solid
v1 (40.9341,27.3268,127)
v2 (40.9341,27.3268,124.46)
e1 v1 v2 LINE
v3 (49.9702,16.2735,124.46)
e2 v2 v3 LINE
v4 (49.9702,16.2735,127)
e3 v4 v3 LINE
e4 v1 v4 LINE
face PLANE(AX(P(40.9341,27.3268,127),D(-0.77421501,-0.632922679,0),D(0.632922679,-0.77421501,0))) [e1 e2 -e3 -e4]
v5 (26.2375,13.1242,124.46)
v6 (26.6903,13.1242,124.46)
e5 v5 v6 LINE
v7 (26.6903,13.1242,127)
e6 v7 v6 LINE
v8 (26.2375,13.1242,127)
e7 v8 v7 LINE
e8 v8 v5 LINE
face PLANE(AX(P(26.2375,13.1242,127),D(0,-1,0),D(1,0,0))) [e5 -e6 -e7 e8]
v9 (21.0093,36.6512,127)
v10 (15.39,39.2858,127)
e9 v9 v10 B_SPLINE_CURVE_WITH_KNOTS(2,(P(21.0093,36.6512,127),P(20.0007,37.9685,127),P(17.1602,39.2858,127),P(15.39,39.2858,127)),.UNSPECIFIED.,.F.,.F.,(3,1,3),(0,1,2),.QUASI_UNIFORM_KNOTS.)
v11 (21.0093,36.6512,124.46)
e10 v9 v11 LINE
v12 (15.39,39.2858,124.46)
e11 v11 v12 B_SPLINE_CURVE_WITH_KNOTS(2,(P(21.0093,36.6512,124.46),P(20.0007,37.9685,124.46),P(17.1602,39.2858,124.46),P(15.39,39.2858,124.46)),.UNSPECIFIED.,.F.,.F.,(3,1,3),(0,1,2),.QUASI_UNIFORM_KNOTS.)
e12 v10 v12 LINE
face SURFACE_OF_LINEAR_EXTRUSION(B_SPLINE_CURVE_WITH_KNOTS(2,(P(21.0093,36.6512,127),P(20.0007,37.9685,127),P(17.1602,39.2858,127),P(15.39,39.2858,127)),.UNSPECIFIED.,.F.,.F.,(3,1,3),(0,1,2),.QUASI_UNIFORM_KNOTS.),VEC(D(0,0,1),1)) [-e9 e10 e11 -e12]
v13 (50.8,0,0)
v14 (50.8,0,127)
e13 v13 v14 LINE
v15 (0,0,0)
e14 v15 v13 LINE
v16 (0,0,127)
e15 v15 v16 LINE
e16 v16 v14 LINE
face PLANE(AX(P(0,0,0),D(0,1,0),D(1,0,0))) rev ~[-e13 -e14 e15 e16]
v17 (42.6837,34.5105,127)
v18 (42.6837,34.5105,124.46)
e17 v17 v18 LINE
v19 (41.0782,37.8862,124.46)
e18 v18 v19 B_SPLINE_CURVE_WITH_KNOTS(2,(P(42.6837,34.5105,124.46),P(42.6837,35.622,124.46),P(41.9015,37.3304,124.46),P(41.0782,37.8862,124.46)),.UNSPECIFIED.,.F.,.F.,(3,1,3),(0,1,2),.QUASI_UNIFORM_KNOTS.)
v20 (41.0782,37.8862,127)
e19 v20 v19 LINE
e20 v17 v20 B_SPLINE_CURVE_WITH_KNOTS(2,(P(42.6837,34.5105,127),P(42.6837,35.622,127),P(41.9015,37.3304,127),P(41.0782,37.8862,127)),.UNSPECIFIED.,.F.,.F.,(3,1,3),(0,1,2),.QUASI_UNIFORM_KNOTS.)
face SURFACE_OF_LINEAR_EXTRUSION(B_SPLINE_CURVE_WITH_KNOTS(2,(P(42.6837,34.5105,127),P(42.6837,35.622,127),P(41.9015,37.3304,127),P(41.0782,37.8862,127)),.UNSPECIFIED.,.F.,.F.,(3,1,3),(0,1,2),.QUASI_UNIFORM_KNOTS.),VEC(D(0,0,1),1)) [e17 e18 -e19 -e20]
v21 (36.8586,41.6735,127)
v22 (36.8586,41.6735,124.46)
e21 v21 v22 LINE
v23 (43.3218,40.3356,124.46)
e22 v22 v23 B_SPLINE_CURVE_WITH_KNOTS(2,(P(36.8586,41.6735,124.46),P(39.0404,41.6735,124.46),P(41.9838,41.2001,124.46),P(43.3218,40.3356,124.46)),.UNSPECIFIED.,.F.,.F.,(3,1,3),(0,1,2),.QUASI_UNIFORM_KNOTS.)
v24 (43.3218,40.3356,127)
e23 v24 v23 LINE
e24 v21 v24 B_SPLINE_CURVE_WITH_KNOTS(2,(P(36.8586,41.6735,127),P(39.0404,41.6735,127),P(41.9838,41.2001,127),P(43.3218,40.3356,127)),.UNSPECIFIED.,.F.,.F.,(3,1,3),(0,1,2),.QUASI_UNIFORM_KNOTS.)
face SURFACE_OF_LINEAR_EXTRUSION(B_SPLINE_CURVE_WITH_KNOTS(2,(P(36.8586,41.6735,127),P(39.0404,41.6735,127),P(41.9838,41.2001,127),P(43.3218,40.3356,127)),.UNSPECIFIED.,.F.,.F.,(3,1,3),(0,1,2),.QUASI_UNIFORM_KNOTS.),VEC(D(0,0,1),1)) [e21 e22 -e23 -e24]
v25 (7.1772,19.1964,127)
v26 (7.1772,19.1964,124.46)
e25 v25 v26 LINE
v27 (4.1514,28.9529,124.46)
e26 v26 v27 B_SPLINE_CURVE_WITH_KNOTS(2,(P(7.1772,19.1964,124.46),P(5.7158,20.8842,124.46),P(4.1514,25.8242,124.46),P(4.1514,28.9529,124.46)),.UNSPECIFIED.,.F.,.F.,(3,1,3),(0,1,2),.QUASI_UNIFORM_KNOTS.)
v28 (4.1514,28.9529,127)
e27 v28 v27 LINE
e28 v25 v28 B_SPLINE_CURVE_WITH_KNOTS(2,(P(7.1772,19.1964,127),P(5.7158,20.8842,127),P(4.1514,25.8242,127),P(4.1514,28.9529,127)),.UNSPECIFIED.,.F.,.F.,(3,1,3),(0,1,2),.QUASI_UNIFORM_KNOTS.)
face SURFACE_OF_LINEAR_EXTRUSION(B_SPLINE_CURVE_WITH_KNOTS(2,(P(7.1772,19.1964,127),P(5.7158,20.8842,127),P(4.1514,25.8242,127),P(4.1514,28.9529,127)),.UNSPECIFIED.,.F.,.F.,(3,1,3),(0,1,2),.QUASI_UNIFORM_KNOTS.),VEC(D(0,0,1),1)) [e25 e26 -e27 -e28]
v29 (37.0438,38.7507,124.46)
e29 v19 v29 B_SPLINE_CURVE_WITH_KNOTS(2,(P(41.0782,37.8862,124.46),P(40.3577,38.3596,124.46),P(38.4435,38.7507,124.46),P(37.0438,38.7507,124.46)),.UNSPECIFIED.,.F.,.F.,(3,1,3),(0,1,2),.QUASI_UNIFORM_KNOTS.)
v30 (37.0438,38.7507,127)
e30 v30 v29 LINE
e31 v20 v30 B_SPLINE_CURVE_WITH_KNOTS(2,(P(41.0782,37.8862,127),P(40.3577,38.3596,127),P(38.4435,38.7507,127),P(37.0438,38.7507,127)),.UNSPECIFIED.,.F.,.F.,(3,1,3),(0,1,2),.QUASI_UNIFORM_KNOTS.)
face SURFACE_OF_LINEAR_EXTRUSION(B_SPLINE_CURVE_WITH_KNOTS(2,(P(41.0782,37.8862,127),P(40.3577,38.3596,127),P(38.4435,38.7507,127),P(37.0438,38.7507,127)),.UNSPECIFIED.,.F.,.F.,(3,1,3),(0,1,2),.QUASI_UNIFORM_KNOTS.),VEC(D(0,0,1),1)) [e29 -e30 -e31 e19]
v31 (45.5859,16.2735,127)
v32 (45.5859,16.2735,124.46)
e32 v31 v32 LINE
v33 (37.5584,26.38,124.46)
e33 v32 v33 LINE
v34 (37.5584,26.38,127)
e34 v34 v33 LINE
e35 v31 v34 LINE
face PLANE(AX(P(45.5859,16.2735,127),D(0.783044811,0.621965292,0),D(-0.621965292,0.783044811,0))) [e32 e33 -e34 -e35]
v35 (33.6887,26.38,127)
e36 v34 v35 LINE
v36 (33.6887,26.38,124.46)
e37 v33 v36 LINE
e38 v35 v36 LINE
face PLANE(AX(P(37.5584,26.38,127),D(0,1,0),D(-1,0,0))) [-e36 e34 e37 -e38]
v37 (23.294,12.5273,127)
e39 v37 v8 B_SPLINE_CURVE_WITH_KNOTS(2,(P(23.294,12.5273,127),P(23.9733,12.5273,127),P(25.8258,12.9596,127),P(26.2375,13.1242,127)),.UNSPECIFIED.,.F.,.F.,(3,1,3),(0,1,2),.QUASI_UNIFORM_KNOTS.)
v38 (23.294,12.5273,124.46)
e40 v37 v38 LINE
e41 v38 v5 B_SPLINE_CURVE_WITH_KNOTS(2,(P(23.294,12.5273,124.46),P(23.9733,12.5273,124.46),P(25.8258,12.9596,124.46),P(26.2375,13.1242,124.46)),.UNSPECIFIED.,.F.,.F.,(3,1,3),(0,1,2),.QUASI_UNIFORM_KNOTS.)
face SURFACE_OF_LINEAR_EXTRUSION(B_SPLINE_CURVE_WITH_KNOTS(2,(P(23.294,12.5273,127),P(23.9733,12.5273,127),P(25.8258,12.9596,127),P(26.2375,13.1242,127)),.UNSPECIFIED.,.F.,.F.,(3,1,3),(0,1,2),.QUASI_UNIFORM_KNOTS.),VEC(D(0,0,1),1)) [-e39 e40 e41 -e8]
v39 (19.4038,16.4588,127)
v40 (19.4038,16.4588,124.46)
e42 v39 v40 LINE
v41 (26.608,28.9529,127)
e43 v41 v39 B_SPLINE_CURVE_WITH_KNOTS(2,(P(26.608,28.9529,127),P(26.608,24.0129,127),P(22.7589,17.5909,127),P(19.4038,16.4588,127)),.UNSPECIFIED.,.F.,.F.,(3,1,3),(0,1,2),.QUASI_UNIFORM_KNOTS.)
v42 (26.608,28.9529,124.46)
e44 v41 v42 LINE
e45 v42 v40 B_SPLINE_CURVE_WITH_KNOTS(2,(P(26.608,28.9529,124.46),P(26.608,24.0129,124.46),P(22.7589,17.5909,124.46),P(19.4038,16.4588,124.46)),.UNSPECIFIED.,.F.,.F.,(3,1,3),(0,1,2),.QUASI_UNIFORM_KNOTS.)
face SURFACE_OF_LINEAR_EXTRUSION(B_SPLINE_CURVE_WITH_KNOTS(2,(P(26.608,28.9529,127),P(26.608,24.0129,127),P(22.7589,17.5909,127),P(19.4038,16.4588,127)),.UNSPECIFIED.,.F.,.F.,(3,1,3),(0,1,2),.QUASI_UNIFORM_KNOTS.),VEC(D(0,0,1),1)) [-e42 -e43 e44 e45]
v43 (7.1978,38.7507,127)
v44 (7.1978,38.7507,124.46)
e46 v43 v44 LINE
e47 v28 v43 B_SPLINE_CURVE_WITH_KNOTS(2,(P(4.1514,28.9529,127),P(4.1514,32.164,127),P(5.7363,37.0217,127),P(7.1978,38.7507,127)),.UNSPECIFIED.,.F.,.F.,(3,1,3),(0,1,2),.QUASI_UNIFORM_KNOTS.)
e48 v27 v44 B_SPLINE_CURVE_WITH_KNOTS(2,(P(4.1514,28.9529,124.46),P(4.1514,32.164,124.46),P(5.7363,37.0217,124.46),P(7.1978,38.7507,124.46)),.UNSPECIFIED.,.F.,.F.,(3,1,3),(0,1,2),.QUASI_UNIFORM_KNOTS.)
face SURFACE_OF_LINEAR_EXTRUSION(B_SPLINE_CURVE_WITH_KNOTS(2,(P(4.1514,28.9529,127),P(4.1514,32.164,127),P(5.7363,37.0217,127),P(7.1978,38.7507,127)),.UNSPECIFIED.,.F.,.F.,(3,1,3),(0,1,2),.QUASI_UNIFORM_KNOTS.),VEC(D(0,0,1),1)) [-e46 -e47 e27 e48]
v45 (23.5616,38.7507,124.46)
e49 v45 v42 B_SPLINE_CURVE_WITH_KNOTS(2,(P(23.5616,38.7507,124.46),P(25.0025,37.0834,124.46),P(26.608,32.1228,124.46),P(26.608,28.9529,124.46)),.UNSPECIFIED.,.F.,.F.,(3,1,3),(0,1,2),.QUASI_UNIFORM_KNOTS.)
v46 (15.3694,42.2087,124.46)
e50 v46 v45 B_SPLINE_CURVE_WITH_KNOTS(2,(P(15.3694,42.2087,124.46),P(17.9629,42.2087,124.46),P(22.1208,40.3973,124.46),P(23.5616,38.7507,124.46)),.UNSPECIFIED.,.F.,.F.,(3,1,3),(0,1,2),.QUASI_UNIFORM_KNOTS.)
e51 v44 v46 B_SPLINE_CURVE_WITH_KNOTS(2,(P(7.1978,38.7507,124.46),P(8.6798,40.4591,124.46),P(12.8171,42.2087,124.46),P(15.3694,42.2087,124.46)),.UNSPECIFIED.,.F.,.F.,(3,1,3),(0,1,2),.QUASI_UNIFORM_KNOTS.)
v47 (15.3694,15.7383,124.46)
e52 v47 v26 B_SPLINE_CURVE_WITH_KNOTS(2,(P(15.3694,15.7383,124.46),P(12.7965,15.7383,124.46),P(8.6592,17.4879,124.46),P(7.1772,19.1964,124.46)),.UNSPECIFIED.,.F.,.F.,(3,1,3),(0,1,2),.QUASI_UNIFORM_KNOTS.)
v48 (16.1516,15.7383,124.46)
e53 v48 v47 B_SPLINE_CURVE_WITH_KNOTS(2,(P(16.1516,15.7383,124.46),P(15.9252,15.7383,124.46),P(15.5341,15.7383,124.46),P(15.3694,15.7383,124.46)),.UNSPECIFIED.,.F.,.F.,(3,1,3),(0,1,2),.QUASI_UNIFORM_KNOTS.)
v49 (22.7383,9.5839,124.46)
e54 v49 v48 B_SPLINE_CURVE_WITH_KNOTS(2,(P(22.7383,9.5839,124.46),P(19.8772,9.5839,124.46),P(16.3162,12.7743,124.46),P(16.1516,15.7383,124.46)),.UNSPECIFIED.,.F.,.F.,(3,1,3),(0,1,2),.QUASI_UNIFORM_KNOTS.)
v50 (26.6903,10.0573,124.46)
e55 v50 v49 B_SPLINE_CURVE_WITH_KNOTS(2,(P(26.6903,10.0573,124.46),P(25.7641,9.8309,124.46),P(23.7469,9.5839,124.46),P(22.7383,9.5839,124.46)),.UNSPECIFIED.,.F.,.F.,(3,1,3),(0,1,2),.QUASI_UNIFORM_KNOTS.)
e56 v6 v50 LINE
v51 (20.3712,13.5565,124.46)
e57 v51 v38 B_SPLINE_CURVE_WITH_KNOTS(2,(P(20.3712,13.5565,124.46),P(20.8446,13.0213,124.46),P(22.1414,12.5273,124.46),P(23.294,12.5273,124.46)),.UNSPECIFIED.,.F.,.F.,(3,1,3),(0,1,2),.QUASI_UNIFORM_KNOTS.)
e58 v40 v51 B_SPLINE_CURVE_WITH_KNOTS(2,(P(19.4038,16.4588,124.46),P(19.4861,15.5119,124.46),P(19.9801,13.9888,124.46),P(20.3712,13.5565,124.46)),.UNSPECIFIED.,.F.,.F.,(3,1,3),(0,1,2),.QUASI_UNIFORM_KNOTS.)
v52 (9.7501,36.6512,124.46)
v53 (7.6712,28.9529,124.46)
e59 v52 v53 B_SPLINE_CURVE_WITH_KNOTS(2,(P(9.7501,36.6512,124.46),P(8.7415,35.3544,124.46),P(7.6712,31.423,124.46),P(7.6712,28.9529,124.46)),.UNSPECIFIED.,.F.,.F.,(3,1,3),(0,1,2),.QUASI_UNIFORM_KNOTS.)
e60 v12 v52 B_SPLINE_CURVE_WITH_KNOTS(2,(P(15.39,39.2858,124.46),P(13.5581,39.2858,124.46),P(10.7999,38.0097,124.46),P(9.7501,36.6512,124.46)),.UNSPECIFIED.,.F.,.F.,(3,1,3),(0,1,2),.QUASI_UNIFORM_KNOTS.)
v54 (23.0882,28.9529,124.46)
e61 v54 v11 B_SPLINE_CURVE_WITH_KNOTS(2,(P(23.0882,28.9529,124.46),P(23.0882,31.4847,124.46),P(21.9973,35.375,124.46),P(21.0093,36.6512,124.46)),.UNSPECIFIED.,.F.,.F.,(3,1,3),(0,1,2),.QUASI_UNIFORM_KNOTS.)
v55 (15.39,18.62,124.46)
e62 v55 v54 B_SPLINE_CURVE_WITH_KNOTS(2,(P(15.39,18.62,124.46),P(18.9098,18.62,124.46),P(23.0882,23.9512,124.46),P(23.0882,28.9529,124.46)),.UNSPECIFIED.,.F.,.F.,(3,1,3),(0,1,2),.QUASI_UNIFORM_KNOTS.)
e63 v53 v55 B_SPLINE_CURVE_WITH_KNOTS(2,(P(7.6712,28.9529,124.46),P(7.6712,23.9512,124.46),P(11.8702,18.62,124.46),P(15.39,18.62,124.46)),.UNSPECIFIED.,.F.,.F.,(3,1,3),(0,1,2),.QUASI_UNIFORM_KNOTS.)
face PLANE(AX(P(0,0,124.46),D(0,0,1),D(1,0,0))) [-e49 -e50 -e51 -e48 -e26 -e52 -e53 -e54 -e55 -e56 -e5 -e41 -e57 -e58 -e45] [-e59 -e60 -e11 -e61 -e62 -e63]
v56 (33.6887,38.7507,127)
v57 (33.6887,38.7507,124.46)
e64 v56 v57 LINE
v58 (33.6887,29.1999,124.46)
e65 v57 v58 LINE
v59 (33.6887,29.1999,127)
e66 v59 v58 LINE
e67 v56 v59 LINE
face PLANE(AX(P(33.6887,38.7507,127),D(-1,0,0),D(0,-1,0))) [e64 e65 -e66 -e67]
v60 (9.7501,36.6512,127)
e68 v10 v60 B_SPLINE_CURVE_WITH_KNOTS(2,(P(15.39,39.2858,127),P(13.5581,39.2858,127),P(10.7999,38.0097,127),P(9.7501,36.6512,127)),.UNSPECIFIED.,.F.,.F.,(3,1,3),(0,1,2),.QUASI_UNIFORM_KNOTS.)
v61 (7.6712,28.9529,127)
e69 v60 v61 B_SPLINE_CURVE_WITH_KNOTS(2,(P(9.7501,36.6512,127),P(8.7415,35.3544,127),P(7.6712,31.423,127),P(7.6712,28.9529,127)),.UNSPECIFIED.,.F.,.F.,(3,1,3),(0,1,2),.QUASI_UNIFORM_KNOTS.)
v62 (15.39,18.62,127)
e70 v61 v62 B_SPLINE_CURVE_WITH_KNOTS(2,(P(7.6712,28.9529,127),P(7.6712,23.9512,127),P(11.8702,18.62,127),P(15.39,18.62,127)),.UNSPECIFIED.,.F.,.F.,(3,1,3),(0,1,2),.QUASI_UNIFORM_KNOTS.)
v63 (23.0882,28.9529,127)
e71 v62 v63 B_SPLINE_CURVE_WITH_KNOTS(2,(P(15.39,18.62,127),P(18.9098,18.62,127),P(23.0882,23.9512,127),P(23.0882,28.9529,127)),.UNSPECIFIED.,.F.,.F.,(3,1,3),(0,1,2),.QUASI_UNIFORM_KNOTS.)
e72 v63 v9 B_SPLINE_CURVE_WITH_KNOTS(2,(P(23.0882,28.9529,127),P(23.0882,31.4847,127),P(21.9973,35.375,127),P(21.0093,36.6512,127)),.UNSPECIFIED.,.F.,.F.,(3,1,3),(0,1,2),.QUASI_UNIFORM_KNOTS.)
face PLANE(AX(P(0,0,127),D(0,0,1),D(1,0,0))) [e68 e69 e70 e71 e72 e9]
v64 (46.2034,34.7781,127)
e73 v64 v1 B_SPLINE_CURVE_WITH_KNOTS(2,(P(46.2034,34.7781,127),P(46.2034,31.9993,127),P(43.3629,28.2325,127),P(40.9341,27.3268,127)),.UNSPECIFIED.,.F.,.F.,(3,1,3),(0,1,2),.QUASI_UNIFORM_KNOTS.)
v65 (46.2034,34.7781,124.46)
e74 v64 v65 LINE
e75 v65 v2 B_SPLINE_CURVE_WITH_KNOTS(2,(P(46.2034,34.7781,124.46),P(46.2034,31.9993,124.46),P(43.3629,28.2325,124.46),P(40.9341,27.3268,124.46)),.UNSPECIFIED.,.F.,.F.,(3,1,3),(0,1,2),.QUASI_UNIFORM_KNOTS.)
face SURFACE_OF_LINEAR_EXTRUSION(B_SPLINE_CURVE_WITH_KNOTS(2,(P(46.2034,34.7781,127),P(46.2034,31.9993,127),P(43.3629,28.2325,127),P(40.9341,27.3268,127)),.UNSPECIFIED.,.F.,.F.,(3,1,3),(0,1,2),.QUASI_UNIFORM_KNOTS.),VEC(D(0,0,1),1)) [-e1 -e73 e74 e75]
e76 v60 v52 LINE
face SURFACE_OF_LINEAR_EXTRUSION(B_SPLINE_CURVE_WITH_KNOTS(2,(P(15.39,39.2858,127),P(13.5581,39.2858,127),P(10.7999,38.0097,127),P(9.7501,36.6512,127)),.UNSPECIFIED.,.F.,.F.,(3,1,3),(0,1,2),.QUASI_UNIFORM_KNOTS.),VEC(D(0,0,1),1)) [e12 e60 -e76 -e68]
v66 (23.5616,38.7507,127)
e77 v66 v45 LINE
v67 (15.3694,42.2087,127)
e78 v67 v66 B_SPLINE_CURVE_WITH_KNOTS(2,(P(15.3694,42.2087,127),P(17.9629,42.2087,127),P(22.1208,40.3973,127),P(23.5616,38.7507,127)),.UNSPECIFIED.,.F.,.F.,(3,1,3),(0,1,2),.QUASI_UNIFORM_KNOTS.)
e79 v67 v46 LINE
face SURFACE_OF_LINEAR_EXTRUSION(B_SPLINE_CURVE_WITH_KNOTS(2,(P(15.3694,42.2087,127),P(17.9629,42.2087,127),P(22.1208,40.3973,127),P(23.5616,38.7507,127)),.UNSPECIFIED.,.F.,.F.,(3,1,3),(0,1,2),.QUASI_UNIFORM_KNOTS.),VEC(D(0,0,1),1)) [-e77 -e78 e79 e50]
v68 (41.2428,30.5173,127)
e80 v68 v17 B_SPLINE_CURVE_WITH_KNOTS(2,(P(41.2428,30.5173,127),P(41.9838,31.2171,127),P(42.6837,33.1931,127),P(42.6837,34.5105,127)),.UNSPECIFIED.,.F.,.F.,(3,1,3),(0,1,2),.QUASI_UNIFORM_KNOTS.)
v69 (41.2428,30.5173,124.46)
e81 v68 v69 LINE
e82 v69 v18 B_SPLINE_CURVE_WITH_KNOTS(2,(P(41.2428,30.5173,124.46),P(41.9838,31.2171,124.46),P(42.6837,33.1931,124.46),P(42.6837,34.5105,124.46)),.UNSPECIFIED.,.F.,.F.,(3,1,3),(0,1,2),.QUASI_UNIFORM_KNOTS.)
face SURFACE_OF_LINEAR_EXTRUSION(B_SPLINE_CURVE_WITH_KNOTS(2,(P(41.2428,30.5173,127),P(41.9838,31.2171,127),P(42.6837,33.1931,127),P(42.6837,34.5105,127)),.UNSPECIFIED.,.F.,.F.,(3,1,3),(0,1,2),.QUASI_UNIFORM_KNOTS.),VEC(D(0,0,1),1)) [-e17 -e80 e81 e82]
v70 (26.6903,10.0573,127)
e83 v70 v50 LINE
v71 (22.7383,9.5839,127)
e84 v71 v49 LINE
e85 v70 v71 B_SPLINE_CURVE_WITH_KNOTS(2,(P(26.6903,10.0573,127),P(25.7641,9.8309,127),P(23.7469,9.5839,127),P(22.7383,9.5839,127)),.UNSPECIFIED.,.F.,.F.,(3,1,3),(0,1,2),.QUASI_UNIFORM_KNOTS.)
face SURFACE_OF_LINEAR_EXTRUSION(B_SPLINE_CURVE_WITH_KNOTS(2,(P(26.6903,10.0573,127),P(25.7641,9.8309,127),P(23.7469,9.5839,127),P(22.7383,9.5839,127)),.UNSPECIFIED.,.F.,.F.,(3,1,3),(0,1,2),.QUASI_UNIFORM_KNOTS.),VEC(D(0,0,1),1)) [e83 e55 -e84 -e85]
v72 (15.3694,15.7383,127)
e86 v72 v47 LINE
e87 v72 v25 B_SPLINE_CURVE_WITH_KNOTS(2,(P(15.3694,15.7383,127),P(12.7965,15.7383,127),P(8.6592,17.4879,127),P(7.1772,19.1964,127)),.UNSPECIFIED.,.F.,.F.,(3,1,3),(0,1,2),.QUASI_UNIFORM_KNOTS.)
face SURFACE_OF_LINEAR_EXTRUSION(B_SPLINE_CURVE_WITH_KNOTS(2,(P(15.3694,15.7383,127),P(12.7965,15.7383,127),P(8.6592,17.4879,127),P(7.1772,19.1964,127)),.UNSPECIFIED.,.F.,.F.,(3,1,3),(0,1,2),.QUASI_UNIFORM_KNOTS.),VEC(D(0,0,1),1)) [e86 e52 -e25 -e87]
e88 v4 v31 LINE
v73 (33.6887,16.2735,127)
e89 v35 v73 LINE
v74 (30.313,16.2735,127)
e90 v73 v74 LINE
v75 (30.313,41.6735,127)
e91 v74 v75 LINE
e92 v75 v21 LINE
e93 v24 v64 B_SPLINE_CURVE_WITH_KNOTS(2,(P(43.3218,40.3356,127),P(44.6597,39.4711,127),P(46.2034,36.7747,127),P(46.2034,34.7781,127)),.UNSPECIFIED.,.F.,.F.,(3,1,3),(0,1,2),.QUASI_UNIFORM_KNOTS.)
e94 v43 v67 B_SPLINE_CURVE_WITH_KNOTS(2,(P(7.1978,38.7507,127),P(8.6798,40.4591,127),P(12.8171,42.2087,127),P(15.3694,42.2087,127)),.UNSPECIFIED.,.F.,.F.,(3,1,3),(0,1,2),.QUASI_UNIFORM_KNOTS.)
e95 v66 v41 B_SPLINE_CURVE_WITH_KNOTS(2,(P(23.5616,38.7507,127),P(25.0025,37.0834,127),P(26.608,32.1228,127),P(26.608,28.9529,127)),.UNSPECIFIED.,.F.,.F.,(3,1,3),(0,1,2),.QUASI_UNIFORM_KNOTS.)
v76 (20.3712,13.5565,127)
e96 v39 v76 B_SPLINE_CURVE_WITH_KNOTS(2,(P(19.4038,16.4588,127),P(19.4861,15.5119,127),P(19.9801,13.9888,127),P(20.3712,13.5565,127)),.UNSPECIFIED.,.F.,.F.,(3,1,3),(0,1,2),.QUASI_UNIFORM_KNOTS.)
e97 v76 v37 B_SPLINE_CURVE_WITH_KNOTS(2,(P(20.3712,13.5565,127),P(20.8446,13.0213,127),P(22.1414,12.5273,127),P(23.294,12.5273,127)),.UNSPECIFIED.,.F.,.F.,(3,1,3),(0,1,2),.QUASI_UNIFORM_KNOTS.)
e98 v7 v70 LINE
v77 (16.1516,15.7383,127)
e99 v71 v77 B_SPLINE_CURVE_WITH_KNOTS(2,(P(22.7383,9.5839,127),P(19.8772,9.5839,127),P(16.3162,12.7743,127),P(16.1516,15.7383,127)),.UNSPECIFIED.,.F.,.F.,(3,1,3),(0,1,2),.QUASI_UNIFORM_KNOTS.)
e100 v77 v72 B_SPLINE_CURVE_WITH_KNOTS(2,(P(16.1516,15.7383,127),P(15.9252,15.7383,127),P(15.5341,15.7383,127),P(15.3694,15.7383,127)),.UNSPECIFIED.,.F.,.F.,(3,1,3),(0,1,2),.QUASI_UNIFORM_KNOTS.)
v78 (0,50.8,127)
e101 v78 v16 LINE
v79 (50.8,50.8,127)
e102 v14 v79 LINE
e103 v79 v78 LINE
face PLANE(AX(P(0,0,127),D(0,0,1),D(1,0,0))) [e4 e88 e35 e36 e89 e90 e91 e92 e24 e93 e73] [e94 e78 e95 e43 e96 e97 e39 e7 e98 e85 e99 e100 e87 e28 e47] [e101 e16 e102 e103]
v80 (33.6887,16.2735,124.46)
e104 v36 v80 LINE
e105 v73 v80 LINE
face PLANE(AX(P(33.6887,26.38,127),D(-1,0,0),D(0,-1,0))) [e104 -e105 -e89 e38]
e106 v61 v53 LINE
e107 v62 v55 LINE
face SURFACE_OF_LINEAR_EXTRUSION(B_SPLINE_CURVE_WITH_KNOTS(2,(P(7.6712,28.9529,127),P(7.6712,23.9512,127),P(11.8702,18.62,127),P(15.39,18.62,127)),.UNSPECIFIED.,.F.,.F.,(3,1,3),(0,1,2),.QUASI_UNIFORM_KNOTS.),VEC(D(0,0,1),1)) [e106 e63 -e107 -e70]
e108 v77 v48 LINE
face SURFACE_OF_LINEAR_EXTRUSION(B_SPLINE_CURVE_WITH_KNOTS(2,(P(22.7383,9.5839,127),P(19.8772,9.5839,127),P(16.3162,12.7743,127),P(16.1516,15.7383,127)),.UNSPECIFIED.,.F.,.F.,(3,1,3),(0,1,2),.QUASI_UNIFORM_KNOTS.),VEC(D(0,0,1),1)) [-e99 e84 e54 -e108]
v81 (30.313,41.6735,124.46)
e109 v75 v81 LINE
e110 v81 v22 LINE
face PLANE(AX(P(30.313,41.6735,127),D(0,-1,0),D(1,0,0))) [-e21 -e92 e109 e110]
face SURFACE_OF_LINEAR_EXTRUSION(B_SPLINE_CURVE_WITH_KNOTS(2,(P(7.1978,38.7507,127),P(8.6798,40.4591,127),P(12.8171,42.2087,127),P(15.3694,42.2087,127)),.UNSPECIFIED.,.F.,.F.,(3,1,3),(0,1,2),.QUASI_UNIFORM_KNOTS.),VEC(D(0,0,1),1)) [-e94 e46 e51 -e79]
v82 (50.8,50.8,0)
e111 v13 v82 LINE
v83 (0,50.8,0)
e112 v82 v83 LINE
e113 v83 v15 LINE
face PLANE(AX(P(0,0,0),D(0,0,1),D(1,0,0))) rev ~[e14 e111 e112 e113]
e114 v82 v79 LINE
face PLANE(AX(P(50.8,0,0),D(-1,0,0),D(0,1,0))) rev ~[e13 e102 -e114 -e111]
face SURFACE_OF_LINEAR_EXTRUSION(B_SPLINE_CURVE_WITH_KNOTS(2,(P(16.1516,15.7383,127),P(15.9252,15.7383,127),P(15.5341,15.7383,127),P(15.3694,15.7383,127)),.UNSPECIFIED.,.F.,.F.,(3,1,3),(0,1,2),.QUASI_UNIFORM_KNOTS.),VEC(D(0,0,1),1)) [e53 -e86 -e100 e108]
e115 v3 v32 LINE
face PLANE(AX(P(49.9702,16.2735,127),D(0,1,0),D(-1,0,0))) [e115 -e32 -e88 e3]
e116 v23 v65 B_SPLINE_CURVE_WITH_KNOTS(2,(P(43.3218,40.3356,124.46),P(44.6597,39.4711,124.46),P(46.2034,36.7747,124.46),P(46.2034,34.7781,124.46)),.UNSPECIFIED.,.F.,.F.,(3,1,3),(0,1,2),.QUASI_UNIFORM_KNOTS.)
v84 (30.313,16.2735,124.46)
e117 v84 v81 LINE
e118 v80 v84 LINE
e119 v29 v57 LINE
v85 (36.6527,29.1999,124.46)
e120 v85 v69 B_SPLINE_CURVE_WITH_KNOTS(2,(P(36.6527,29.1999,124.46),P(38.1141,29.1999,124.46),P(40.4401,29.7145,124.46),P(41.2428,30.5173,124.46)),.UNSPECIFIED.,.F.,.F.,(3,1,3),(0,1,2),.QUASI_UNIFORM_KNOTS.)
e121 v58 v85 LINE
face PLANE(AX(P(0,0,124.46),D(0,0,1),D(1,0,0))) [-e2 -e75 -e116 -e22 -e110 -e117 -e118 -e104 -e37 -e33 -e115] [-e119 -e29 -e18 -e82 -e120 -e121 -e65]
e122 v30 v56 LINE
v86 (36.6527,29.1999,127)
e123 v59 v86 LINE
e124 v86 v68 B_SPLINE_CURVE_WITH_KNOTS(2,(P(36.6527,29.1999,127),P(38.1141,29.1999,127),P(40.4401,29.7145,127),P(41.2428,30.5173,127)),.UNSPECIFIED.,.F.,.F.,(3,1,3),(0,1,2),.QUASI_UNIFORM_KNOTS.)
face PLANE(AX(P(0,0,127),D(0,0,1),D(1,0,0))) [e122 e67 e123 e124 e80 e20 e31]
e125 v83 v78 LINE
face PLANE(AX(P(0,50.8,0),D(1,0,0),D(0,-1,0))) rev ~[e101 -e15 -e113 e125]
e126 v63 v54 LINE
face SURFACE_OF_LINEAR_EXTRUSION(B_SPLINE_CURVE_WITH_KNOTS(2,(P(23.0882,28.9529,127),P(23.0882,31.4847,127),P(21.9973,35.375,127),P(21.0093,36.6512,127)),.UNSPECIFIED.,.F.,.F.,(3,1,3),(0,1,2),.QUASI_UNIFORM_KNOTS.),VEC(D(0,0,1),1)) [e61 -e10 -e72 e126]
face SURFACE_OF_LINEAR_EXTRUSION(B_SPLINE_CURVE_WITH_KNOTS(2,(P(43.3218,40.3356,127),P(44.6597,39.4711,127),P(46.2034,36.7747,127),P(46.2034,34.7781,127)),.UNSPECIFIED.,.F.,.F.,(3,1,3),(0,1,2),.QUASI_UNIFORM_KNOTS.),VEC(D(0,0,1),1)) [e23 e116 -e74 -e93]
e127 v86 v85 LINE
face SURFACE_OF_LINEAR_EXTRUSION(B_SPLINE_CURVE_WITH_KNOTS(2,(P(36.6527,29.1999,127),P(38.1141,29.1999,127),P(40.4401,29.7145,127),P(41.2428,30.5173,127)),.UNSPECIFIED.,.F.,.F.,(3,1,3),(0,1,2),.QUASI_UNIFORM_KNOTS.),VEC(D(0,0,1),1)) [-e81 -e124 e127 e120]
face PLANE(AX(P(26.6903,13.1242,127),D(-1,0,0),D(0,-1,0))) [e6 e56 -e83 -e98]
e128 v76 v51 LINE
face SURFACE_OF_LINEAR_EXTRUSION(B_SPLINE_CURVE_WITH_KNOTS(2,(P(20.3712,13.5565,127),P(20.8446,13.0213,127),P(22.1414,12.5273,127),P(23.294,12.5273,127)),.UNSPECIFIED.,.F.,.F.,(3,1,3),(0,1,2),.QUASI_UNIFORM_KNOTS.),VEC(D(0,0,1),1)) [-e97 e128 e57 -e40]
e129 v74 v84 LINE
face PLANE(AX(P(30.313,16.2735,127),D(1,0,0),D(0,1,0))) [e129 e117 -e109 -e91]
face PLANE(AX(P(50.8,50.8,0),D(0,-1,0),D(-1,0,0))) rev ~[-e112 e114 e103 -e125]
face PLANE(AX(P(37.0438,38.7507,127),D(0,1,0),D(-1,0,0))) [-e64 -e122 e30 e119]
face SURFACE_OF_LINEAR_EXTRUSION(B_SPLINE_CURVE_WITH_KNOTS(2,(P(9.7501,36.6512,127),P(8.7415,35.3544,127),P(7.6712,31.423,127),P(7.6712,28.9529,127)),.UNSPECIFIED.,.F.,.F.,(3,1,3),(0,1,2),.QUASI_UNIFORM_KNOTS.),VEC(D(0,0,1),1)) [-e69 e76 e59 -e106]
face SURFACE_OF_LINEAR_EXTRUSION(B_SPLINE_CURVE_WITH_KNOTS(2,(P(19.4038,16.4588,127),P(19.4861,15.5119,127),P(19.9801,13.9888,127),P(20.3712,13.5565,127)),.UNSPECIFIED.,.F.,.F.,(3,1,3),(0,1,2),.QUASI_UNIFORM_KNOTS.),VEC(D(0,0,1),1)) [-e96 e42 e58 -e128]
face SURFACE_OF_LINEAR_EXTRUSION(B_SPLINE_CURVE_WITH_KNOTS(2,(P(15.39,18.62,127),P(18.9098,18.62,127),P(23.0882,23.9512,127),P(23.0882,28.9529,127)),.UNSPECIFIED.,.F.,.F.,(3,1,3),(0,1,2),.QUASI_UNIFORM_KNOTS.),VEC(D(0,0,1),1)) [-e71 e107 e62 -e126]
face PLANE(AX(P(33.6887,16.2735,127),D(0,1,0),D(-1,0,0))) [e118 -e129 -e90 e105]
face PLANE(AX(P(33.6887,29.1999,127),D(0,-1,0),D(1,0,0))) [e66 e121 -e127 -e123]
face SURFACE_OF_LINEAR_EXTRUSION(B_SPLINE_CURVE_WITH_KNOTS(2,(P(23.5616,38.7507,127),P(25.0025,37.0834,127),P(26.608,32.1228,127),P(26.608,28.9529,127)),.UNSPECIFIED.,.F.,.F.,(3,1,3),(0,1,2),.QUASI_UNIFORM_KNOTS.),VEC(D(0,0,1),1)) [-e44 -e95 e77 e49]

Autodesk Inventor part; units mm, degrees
ref_plane "YZ Plane" through (0, 0, 0) normal (1, 0, 0) x (0, 1, 0)
ref_plane "XZ Plane" through (0, 0, 0) normal (0, 1, 0) x (-1, 0, 0)
ref_plane "XY Plane" through (0, 0, 0) normal (0, 0, 1) x (1, 0, 0)
sketch "Sketch1" plane through (0, 0, 0) normal (0, 0, 1) x (1, 0, 0)
  line L0 (0, 0) -> (50.8, 0)
  line L1 (50.8, 0) -> (50.8, 50.8)
  line L2 (50.8, 50.8) -> (0, 50.8)
  line L3 (0, 50.8) -> (0, 0)
  dimension "d0" = 50.8
  dimension "d1" = 50.8
extrude "Extrusion1" add sketch "Sketch1" along normal blind 127
sketch "Sketch2" plane through (0, 0, 127) normal (0, 0, 1) x (1, 0, 0)
  line L0 (3.0193, 42.2087) -> (49.4145, 42.2087) construction
  line L1 (49.4145, 42.2087) -> (49.4145, 9.5839) construction
  line L2 (49.4145, 9.5839) -> (3.0193, 9.5839) construction
  line L3 (3.0193, 9.5839) -> (3.0193, 42.2087) construction
  spline S0 degree 2 poles (26.6903, 10.0573) (25.7641, 9.8309) (23.7469, 9.5839) (22.7383, 9.5839) knots 0 0 0 1 2 2 2
  spline S1 degree 2 poles (22.7383, 9.5839) (19.8772, 9.5839) (16.3162, 12.7743) (16.1516, 15.7383) knots 0 0 0 1 2 2 2
  spline S2 degree 2 poles (16.1516, 15.7383) (15.9252, 15.7383) (15.5341, 15.7383) (15.3694, 15.7383) knots 0 0 0 1 2 2 2
  spline S3 degree 2 poles (15.3694, 15.7383) (12.7965, 15.7383) (8.6592, 17.4879) (7.1772, 19.1964) knots 0 0 0 1 2 2 2
  spline S4 degree 2 poles (7.1772, 19.1964) (5.7158, 20.8842) (4.1514, 25.8242) (4.1514, 28.9529) knots 0 0 0 1 2 2 2
  spline S5 degree 2 poles (4.1514, 28.9529) (4.1514, 32.164) (5.7363, 37.0217) (7.1978, 38.7507) knots 0 0 0 1 2 2 2
  spline S6 degree 2 poles (7.1978, 38.7507) (8.6798, 40.4591) (12.8171, 42.2087) (15.3694, 42.2087) knots 0 0 0 1 2 2 2
  spline S7 degree 2 poles (15.3694, 42.2087) (17.9629, 42.2087) (22.1208, 40.3973) (23.5616, 38.7507) knots 0 0 0 1 2 2 2
  spline S8 degree 2 poles (23.5616, 38.7507) (25.0025, 37.0834) (26.608, 32.1228) (26.608, 28.9529) knots 0 0 0 1 2 2 2
  spline S9 degree 2 poles (26.608, 28.9529) (26.608, 24.0129) (22.7589, 17.5909) (19.4038, 16.4588) knots 0 0 0 1 2 2 2
  spline S10 degree 2 poles (19.4038, 16.4588) (19.4861, 15.5119) (19.9801, 13.9888) (20.3712, 13.5565) knots 0 0 0 1 2 2 2
  spline S11 degree 2 poles (20.3712, 13.5565) (20.8446, 13.0213) (22.1414, 12.5273) (23.294, 12.5273) knots 0 0 0 1 2 2 2
  spline S12 degree 2 poles (23.294, 12.5273) (23.9733, 12.5273) (25.8258, 12.9596) (26.2375, 13.1242) knots 0 0 0 1 2 2 2
  line L4 (26.2375, 13.1242) -> (26.6903, 13.1242)
  line L5 (26.6903, 13.1242) -> (26.6903, 10.0573)
  spline S13 degree 2 poles (23.0882, 28.9529) (23.0882, 31.4847) (21.9973, 35.375) (21.0093, 36.6512) knots 0 0 0 1 2 2 2
  spline S14 degree 2 poles (21.0093, 36.6512) (20.0007, 37.9685) (17.1602, 39.2858) (15.39, 39.2858) knots 0 0 0 1 2 2 2
  spline S15 degree 2 poles (15.39, 39.2858) (13.5581, 39.2858) (10.7999, 38.0097) (9.7501, 36.6512) knots 0 0 0 1 2 2 2
  spline S16 degree 2 poles (9.7501, 36.6512) (8.7415, 35.3544) (7.6712, 31.423) (7.6712, 28.9529) knots 0 0 0 1 2 2 2
  spline S17 degree 2 poles (7.6712, 28.9529) (7.6712, 23.9512) (11.8702, 18.62) (15.39, 18.62) knots 0 0 0 1 2 2 2
  spline S18 degree 2 poles (15.39, 18.62) (18.9098, 18.62) (23.0882, 23.9512) (23.0882, 28.9529) knots 0 0 0 1 2 2 2
  line L6 (49.9702, 16.2735) -> (45.5859, 16.2735)
  line L7 (45.5859, 16.2735) -> (37.5584, 26.38)
  line L8 (37.5584, 26.38) -> (33.6887, 26.38)
  line L9 (33.6887, 26.38) -> (33.6887, 16.2735)
  line L10 (33.6887, 16.2735) -> (30.313, 16.2735)
  line L11 (30.313, 16.2735) -> (30.313, 41.6735)
  line L12 (30.313, 41.6735) -> (36.8586, 41.6735)
  spline S19 degree 2 poles (36.8586, 41.6735) (39.0404, 41.6735) (41.9838, 41.2001) (43.3218, 40.3356) knots 0 0 0 1 2 2 2
  spline S20 degree 2 poles (43.3218, 40.3356) (44.6597, 39.4711) (46.2034, 36.7747) (46.2034, 34.7781) knots 0 0 0 1 2 2 2
  spline S21 degree 2 poles (46.2034, 34.7781) (46.2034, 31.9993) (43.3629, 28.2325) (40.9341, 27.3268) knots 0 0 0 1 2 2 2
  line L13 (40.9341, 27.3268) -> (49.9702, 16.2735)
  spline S22 degree 2 poles (42.6837, 34.5105) (42.6837, 35.622) (41.9015, 37.3304) (41.0782, 37.8862) knots 0 0 0 1 2 2 2
  spline S23 degree 2 poles (41.0782, 37.8862) (40.3577, 38.3596) (38.4435, 38.7507) (37.0438, 38.7507) knots 0 0 0 1 2 2 2
  line L14 (37.0438, 38.7507) -> (33.6887, 38.7507)
  line L15 (33.6887, 38.7507) -> (33.6887, 29.1999)
  line L16 (33.6887, 29.1999) -> (36.6527, 29.1999)
  spline S24 degree 2 poles (36.6527, 29.1999) (38.1141, 29.1999) (40.4401, 29.7145) (41.2428, 30.5173) knots 0 0 0 1 2 2 2
  spline S25 degree 2 poles (41.2428, 30.5173) (41.9838, 31.2171) (42.6837, 33.1931) (42.6837, 34.5105) knots 0 0 0 1 2 2 2
  point P0 (0, 0)
extrude "Extrusion2" cut sketch "Sketch2" against normal blind 2.54
properties part number "Container 2 2 5 QR color 1"
